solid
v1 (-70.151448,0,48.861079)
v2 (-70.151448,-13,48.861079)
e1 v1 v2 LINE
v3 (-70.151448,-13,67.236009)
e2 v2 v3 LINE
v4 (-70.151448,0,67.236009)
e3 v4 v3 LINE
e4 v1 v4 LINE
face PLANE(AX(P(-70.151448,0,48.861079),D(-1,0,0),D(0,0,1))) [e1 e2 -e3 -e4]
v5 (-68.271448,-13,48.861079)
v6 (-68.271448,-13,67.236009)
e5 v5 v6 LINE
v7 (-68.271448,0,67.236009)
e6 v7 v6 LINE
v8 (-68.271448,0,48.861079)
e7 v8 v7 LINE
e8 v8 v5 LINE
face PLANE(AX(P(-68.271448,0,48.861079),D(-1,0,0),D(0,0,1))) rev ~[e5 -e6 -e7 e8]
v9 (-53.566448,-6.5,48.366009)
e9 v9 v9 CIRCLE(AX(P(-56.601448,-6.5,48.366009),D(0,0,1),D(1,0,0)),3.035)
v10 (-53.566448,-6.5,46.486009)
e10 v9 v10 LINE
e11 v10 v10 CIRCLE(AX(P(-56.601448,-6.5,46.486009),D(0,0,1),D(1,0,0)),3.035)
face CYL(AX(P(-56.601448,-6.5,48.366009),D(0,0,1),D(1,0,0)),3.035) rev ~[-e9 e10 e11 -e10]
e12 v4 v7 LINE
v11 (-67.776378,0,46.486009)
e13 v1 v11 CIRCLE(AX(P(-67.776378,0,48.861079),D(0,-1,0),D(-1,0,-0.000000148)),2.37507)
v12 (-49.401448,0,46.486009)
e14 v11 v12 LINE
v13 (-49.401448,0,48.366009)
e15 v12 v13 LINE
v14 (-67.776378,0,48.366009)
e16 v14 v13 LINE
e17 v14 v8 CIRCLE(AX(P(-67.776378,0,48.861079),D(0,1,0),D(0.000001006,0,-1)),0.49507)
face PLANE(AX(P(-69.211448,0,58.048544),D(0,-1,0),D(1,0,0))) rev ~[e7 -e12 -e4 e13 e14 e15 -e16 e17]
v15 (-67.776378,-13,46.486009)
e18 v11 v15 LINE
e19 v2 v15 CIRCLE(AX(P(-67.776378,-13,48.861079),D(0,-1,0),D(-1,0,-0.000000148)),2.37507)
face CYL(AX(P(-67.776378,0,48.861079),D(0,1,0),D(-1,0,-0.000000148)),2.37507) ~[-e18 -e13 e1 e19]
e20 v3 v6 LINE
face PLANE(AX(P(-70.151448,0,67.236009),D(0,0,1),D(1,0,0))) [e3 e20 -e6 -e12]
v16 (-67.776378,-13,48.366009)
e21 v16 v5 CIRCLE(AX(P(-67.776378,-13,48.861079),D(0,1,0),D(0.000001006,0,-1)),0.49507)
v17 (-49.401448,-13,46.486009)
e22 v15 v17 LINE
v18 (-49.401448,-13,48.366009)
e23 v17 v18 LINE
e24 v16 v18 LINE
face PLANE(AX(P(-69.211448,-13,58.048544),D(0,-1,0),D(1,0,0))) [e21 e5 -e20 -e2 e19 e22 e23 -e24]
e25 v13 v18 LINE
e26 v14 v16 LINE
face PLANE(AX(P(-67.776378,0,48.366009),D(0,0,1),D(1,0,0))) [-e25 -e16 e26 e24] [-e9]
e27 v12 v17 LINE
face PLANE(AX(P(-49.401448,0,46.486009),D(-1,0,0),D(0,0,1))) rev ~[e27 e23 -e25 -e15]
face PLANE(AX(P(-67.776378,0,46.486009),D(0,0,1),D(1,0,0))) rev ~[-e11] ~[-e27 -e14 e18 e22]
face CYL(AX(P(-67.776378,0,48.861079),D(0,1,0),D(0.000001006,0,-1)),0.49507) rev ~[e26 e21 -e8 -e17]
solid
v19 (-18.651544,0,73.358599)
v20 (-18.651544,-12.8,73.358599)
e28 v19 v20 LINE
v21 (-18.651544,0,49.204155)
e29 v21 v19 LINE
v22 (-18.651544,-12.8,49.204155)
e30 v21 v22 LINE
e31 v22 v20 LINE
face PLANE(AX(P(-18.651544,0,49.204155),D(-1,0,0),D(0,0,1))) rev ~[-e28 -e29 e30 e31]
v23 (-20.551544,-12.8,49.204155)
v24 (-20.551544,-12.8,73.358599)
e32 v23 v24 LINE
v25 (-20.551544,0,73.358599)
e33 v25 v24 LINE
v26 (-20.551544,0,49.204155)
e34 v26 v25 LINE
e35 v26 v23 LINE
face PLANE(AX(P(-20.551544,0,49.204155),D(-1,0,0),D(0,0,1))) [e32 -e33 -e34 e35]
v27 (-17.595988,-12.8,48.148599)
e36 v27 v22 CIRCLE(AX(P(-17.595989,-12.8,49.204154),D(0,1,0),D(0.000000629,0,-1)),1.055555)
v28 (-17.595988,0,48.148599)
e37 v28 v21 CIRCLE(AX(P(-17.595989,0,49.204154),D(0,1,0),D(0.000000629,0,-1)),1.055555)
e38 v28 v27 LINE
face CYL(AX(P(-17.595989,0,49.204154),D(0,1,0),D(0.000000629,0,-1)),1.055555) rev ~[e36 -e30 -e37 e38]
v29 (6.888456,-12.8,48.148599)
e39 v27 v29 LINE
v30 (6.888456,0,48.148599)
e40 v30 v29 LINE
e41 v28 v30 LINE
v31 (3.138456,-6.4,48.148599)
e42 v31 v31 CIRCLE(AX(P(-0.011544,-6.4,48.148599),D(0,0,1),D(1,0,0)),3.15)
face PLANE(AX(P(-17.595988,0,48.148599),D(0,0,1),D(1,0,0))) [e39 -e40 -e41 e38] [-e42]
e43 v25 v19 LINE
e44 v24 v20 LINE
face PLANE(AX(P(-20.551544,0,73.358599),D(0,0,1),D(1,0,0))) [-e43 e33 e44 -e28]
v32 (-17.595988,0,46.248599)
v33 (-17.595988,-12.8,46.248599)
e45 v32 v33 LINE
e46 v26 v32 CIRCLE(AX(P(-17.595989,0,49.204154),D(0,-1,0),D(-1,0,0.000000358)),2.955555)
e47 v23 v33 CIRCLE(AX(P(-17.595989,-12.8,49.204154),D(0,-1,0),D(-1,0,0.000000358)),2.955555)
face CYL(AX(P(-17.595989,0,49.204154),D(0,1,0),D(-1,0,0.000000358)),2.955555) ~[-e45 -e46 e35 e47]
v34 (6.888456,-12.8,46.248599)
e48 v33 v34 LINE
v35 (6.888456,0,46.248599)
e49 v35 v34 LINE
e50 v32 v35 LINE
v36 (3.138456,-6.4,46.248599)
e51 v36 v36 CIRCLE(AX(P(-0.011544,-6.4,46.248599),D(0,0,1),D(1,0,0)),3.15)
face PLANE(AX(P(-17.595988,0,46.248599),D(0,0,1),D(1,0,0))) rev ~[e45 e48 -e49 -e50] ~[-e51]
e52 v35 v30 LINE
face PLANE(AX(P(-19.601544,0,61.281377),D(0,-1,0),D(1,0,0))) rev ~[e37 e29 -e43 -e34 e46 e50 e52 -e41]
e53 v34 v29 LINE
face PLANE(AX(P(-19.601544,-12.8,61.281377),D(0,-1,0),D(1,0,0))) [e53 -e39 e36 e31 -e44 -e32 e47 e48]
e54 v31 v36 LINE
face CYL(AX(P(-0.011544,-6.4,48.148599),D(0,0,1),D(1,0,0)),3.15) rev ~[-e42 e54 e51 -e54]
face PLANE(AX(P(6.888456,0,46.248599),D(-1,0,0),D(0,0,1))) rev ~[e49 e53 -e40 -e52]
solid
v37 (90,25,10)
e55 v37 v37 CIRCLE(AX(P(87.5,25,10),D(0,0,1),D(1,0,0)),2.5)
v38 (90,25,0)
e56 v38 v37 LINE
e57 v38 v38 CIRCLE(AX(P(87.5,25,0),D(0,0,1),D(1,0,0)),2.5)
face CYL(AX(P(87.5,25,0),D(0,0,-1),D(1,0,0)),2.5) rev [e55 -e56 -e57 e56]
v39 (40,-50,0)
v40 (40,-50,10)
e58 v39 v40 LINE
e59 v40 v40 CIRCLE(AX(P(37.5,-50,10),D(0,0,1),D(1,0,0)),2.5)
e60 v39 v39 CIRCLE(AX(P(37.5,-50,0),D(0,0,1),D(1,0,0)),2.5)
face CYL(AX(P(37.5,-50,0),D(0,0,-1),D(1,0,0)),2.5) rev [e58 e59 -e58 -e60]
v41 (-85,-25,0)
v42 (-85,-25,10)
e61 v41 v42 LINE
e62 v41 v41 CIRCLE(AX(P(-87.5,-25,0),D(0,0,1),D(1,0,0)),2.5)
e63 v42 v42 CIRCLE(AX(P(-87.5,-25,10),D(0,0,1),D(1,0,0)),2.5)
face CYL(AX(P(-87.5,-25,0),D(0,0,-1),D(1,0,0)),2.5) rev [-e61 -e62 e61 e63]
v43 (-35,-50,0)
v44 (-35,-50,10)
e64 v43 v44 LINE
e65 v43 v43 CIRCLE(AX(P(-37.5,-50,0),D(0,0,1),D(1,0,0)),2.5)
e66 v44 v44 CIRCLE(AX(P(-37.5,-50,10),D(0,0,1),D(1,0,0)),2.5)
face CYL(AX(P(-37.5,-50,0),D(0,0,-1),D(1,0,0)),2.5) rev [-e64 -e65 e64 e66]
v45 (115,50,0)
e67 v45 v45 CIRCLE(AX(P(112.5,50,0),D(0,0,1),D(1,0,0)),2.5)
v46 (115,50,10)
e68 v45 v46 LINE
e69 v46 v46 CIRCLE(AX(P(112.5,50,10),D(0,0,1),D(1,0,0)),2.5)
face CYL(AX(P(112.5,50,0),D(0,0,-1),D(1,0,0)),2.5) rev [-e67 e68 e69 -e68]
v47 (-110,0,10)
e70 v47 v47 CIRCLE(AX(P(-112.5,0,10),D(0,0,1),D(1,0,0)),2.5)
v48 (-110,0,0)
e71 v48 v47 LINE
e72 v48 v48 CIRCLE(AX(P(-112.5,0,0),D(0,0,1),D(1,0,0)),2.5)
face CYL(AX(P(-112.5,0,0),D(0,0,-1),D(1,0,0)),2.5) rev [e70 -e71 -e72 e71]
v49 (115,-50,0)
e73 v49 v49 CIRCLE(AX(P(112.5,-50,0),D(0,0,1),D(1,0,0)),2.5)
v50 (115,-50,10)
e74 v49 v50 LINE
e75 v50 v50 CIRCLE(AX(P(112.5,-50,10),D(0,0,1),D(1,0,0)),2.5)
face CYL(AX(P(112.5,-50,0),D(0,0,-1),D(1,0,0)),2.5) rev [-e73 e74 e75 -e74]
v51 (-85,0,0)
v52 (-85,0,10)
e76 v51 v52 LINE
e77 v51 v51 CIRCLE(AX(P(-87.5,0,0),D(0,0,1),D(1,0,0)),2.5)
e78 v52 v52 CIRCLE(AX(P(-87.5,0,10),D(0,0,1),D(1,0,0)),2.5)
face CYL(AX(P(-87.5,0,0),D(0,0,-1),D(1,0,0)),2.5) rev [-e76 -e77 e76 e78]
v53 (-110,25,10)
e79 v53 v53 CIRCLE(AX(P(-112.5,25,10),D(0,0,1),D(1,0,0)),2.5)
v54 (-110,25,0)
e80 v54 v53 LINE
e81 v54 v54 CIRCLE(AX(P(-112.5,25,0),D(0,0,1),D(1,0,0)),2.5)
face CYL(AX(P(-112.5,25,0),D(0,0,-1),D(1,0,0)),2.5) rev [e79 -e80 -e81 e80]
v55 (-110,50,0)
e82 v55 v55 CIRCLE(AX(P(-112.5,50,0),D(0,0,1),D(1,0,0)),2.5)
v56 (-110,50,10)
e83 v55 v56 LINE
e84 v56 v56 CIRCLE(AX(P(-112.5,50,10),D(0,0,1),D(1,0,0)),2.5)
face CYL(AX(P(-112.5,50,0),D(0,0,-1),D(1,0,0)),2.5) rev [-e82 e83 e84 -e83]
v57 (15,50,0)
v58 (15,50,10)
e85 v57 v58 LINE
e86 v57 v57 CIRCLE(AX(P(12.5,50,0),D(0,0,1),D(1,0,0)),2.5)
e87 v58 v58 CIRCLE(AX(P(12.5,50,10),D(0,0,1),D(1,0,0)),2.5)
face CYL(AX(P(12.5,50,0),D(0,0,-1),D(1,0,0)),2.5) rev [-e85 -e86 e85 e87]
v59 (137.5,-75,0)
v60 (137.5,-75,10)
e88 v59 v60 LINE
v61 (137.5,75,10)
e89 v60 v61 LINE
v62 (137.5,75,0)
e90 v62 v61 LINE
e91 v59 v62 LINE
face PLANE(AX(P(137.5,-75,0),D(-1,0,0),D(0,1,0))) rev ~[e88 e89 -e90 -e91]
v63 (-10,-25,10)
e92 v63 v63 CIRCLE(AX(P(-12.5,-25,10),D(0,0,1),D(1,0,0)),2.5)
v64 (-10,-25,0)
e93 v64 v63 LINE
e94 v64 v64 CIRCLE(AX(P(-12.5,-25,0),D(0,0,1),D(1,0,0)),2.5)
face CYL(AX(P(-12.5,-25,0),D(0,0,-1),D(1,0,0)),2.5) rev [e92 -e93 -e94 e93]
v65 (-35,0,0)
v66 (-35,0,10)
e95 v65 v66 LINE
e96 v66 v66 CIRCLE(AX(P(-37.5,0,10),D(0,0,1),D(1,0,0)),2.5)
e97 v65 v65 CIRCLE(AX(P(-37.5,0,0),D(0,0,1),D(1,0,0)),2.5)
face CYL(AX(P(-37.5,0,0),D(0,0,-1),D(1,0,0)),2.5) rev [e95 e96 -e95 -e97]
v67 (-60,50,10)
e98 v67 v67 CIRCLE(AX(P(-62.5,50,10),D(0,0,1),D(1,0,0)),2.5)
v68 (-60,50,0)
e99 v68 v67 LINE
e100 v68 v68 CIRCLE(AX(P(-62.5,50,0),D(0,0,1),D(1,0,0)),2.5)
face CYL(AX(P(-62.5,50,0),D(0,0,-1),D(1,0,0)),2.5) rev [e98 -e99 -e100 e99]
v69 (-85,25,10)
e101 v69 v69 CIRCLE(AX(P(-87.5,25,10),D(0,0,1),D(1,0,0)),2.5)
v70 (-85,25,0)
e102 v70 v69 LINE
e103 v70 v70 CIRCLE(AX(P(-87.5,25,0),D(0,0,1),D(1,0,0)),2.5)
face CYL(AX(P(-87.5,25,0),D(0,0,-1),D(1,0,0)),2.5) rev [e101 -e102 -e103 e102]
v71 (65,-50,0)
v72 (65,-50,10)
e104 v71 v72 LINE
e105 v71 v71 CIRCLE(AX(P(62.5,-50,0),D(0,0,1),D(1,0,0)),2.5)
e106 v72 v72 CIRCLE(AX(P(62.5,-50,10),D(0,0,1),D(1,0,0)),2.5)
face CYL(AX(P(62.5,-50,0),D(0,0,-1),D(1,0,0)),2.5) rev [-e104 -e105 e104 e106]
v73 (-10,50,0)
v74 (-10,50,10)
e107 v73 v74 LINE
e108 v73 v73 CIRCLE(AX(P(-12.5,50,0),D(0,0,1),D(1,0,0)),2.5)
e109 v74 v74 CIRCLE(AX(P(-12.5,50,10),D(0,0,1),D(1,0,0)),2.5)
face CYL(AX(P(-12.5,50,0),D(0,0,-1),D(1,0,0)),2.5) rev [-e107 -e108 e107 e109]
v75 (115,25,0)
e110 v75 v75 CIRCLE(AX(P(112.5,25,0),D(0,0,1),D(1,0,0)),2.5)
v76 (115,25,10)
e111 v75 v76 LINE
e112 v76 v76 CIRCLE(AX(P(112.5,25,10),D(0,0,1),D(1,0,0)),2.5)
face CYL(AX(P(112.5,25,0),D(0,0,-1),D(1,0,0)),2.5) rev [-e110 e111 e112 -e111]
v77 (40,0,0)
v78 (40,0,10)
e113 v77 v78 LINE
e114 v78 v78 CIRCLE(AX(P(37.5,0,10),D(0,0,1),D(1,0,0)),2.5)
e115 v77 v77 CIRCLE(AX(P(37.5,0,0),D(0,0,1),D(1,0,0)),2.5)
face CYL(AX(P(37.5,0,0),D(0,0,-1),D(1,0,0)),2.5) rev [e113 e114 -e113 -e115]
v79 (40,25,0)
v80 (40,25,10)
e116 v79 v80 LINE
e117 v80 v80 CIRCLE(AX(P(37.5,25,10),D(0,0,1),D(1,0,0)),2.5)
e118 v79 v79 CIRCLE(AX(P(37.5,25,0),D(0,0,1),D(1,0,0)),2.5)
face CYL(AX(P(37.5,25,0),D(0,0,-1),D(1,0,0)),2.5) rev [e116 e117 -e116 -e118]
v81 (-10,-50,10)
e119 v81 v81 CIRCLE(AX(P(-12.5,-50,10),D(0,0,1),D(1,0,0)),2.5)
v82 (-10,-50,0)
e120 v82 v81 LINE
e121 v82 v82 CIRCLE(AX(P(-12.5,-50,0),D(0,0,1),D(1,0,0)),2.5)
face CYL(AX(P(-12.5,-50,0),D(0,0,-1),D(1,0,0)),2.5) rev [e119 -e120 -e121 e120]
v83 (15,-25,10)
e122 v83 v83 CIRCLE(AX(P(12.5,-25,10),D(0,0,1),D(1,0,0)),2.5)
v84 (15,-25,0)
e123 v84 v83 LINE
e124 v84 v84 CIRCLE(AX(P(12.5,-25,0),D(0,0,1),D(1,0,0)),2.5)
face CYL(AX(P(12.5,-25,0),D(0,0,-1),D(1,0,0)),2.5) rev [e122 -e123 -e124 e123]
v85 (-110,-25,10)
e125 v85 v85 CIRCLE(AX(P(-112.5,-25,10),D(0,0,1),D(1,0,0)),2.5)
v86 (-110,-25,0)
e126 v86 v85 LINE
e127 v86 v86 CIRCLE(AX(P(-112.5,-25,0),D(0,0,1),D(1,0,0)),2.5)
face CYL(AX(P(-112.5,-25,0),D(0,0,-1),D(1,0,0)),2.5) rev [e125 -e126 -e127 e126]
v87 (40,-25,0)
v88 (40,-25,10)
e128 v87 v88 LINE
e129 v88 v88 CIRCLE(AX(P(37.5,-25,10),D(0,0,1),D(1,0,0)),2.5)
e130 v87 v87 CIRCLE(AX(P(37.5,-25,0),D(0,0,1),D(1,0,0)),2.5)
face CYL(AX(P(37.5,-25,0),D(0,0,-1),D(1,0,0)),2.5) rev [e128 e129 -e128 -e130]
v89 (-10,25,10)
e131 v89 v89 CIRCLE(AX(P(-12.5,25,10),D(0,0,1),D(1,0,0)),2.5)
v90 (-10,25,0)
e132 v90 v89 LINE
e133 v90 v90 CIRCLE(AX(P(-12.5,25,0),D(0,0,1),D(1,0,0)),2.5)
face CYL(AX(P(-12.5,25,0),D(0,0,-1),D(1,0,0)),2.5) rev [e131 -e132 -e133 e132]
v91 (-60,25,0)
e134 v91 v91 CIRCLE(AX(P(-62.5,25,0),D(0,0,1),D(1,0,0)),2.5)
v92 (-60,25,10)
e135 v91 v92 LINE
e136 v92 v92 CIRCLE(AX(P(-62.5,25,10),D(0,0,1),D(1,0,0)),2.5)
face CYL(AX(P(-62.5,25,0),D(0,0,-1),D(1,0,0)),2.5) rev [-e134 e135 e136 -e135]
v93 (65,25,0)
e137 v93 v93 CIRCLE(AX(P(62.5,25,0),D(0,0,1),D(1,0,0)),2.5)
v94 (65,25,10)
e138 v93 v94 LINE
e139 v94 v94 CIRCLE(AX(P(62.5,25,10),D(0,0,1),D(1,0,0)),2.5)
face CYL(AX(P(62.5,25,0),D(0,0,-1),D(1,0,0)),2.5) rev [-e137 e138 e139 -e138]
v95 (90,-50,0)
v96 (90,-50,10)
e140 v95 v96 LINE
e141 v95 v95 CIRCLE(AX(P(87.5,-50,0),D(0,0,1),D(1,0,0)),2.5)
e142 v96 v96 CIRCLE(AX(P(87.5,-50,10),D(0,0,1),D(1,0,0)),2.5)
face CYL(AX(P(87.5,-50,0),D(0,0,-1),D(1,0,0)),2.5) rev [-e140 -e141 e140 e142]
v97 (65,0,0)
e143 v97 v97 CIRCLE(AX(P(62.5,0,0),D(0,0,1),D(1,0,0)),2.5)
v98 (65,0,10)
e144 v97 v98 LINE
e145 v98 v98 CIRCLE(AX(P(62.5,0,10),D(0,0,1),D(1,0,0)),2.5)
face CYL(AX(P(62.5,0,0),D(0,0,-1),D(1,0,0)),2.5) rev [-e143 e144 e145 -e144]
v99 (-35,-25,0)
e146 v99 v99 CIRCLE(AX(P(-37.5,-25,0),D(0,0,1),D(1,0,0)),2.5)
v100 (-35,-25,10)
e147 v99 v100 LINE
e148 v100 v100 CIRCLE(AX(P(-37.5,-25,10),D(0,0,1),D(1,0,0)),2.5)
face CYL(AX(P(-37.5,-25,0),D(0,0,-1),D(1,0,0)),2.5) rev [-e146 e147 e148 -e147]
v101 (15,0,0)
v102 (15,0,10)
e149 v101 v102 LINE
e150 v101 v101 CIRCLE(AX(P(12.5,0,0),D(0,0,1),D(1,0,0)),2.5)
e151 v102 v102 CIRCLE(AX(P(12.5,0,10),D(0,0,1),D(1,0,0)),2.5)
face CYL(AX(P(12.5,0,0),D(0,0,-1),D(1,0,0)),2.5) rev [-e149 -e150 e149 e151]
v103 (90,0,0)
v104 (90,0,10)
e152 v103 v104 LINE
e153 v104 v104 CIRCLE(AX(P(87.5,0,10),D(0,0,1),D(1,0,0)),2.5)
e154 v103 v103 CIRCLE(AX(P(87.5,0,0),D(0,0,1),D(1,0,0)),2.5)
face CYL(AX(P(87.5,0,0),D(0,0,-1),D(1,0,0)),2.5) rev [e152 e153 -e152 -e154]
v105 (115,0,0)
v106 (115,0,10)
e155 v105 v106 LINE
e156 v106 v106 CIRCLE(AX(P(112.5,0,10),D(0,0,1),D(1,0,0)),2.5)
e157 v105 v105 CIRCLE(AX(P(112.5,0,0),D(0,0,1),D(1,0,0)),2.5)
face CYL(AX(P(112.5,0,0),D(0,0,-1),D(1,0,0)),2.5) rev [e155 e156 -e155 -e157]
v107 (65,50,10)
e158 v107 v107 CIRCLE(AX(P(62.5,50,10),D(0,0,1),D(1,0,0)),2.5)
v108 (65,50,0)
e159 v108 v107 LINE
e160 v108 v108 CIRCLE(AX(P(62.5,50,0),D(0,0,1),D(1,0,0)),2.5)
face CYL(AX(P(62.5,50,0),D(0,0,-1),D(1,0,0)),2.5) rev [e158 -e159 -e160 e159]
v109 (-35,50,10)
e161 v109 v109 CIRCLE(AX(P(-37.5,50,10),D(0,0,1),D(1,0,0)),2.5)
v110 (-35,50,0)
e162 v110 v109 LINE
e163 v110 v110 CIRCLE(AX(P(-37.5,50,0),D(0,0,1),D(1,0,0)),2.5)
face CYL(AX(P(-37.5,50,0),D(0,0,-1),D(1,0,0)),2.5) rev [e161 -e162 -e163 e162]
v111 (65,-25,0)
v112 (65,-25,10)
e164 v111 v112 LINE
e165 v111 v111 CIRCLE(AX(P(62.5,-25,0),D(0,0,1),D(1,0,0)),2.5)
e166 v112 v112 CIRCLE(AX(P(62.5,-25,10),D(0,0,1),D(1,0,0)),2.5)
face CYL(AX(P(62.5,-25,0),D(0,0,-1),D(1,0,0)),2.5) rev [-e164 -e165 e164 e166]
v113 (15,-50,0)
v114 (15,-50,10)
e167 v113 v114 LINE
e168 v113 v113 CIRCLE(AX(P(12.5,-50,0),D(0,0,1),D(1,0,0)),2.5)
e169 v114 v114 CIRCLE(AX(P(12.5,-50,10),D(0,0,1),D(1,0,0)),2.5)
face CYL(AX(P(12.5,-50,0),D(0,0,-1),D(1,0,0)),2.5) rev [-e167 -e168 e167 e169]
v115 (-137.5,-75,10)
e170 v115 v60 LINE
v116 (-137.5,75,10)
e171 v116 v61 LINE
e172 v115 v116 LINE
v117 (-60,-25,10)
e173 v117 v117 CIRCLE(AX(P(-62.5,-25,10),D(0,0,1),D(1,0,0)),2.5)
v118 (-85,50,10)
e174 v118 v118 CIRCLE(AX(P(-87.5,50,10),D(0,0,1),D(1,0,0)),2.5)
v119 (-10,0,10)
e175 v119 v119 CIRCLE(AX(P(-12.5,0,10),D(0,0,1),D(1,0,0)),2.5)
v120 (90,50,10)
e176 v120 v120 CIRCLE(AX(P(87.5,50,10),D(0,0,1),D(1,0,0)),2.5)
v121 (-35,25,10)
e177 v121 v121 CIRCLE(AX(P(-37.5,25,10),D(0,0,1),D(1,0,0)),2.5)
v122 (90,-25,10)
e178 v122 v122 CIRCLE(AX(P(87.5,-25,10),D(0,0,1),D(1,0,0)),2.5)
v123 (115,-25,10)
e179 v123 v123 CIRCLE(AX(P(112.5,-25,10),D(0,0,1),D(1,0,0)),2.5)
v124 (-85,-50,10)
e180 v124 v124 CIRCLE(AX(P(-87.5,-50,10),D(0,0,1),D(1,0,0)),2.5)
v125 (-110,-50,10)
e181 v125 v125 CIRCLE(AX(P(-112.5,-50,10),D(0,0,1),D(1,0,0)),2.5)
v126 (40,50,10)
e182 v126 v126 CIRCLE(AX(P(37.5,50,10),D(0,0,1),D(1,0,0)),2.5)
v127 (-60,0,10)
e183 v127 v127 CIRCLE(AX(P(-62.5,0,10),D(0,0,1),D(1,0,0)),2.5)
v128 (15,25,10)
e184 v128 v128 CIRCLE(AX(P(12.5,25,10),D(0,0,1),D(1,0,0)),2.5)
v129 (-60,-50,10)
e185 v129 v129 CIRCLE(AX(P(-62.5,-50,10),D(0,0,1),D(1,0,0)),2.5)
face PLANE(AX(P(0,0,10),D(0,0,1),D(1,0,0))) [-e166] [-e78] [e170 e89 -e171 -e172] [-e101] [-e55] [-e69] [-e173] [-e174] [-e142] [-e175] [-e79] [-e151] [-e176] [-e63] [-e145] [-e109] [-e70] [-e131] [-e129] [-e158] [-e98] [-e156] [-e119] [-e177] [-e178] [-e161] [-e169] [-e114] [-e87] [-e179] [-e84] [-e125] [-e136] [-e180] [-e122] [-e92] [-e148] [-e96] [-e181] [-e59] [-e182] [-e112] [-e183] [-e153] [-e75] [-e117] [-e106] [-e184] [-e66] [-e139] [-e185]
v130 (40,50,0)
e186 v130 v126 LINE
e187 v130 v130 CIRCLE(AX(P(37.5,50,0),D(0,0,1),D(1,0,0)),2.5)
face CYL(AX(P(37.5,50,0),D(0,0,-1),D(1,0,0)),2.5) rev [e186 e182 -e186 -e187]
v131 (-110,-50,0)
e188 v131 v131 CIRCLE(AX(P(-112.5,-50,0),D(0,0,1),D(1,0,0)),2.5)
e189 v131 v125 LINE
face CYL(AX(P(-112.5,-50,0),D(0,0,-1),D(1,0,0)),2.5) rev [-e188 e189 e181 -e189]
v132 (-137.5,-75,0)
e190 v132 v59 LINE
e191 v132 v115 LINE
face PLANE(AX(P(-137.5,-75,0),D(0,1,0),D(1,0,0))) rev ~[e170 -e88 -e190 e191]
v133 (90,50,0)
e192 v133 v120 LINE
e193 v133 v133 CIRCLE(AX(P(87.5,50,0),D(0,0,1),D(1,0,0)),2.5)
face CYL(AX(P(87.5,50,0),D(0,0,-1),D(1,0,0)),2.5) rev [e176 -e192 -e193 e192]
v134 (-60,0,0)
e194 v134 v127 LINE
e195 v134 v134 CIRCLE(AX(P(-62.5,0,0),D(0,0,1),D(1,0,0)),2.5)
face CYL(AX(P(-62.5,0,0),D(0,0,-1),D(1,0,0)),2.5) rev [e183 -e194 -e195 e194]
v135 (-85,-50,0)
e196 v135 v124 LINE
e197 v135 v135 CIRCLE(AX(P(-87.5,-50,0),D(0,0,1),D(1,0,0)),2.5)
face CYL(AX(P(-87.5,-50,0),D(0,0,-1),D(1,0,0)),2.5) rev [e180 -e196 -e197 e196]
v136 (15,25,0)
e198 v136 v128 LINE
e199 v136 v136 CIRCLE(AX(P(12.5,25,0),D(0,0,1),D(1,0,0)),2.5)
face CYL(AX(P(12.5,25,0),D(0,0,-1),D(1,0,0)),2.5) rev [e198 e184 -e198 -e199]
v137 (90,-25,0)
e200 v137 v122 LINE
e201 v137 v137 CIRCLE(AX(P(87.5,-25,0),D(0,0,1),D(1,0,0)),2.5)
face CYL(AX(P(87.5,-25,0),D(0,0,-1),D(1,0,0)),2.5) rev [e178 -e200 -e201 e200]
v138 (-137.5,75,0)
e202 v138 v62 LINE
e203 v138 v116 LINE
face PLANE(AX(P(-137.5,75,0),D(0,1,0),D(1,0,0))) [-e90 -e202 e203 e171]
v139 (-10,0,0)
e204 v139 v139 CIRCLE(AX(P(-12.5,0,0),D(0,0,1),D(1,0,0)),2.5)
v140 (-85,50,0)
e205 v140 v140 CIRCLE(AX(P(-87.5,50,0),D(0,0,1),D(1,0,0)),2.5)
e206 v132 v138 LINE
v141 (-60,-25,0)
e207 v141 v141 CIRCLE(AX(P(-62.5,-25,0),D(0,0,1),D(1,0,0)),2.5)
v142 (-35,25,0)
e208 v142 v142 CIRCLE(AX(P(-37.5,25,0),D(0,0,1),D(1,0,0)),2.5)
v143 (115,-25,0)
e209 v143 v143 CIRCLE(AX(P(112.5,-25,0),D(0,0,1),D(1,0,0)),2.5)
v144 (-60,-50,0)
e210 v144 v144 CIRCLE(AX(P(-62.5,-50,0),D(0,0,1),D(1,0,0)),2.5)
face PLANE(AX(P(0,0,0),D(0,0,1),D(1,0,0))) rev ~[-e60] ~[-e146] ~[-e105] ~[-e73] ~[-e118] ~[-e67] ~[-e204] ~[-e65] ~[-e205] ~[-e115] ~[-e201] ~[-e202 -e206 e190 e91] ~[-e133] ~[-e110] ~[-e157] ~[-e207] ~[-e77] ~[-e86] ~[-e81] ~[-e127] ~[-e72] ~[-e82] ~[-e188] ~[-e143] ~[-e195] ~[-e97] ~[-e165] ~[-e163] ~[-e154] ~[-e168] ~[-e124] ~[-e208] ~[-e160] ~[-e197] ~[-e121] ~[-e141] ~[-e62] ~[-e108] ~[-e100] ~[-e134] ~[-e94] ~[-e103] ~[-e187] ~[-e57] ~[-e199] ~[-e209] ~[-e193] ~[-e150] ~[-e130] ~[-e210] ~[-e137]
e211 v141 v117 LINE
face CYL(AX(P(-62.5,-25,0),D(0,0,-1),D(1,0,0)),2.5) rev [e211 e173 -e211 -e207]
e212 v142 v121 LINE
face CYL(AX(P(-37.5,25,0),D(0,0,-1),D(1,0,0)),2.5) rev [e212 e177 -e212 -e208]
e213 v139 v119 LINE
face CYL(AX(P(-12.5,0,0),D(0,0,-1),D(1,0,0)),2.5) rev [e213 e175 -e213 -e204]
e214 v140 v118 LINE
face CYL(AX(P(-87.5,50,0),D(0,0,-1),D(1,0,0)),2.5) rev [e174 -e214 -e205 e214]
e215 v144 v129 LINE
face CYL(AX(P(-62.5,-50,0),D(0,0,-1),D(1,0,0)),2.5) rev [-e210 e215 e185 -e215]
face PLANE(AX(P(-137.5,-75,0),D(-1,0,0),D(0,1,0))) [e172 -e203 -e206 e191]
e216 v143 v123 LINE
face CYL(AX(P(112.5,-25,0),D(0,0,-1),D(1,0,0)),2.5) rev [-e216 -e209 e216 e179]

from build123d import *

# Parameters (mm, degrees)
F0_W     = 275
F0_H     = 150
F0_R     = 2.5
F1_DEPTH = 10
F2_W     = 1.88
F2_H     = 18.37493
F2_W_2   = 18.37493
F2_H_2   = 1.88
F3_DEPTH = 13
F4_W     = 1.9
F4_H     = 24.154444
F4_W_2   = 24.484444
F4_H_2   = 1.9
F5_DEPTH = 12.8
F6_R     = 3.15
F7_DEPTH = 1.9
F8_R     = 3.035
F9_DEPTH = 1.88


with BuildPart() as f1:
    # F0 (on Top) → F1 (new body)
    with BuildSketch(Plane.XY):
        Rectangle(F0_W, F0_H)
        with Locations((-112.5, -50)):
            Circle(F0_R, mode=Mode.SUBTRACT)
        with Locations((-87.5, -50)):
            Circle(F0_R, mode=Mode.SUBTRACT)
        with Locations((-62.5, -50)):
            Circle(F0_R, mode=Mode.SUBTRACT)
        with Locations((-37.5, -50)):
            Circle(F0_R, mode=Mode.SUBTRACT)
        with Locations((-12.5, -50)):
            Circle(F0_R, mode=Mode.SUBTRACT)
        with Locations((-112.5, -25)):
            Circle(F0_R, mode=Mode.SUBTRACT)
        with Locations((-87.5, -25)):
            Circle(F0_R, mode=Mode.SUBTRACT)
        with Locations((-62.5, -25)):
            Circle(F0_R, mode=Mode.SUBTRACT)
        with Locations((-37.5, -25)):
            Circle(F0_R, mode=Mode.SUBTRACT)
        with Locations((-12.5, -25)):
            Circle(F0_R, mode=Mode.SUBTRACT)
        with Locations((12.5, -50)):
            Circle(F0_R, mode=Mode.SUBTRACT)
        with Locations((37.5, -50)):
            Circle(F0_R, mode=Mode.SUBTRACT)
        with Locations((62.5, -50)):
            Circle(F0_R, mode=Mode.SUBTRACT)
        with Locations((87.5, -50)):
            Circle(F0_R, mode=Mode.SUBTRACT)
        with Locations((112.5, -50)):
            Circle(F0_R, mode=Mode.SUBTRACT)
        with Locations((12.5, -25)):
            Circle(F0_R, mode=Mode.SUBTRACT)
        with Locations((37.5, -25)):
            Circle(F0_R, mode=Mode.SUBTRACT)
        with Locations((62.5, -25)):
            Circle(F0_R, mode=Mode.SUBTRACT)
        with Locations((87.5, -25)):
            Circle(F0_R, mode=Mode.SUBTRACT)
        with Locations((112.5, -25)):
            Circle(F0_R, mode=Mode.SUBTRACT)
        with Locations((-112.5, 0)):
            Circle(F0_R, mode=Mode.SUBTRACT)
        with Locations((-87.5, 0)):
            Circle(F0_R, mode=Mode.SUBTRACT)
        with Locations((-112.5, 25)):
            Circle(F0_R, mode=Mode.SUBTRACT)
        with Locations((-87.5, 25)):
            Circle(F0_R, mode=Mode.SUBTRACT)
        with Locations((-62.5, 0)):
            Circle(F0_R, mode=Mode.SUBTRACT)
        with Locations((-37.5, 0)):
            Circle(F0_R, mode=Mode.SUBTRACT)
        with Locations((-12.5, 0)):
            Circle(F0_R, mode=Mode.SUBTRACT)
        with Locations((-62.5, 25)):
            Circle(F0_R, mode=Mode.SUBTRACT)
        with Locations((-37.5, 25)):
            Circle(F0_R, mode=Mode.SUBTRACT)
        with Locations((-12.5, 25)):
            Circle(F0_R, mode=Mode.SUBTRACT)
        with Locations((-112.5, 50)):
            Circle(F0_R, mode=Mode.SUBTRACT)
        with Locations((-87.5, 50)):
            Circle(F0_R, mode=Mode.SUBTRACT)
        with Locations((-62.5, 50)):
            Circle(F0_R, mode=Mode.SUBTRACT)
        with Locations((-37.5, 50)):
            Circle(F0_R, mode=Mode.SUBTRACT)
        with Locations((-12.5, 50)):
            Circle(F0_R, mode=Mode.SUBTRACT)
        with Locations((12.5, 0)):
            Circle(F0_R, mode=Mode.SUBTRACT)
        with Locations((37.5, 0)):
            Circle(F0_R, mode=Mode.SUBTRACT)
        with Locations((62.5, 0)):
            Circle(F0_R, mode=Mode.SUBTRACT)
        with Locations((12.5, 25)):
            Circle(F0_R, mode=Mode.SUBTRACT)
        with Locations((37.5, 25)):
            Circle(F0_R, mode=Mode.SUBTRACT)
        with Locations((62.5, 25)):
            Circle(F0_R, mode=Mode.SUBTRACT)
        with Locations((87.5, 0)):
            Circle(F0_R, mode=Mode.SUBTRACT)
        with Locations((112.5, 0)):
            Circle(F0_R, mode=Mode.SUBTRACT)
        with Locations((87.5, 25)):
            Circle(F0_R, mode=Mode.SUBTRACT)
        with Locations((112.5, 25)):
            Circle(F0_R, mode=Mode.SUBTRACT)
        with Locations((12.5, 50)):
            Circle(F0_R, mode=Mode.SUBTRACT)
        with Locations((37.5, 50)):
            Circle(F0_R, mode=Mode.SUBTRACT)
        with Locations((62.5, 50)):
            Circle(F0_R, mode=Mode.SUBTRACT)
        with Locations((87.5, 50)):
            Circle(F0_R, mode=Mode.SUBTRACT)
        with Locations((112.5, 50)):
            Circle(F0_R, mode=Mode.SUBTRACT)
    extrude(amount=F1_DEPTH)


with BuildPart() as f3:
    # F2 (on Front) → F3 (new body)
    with BuildSketch(Plane.XZ):
        with Locations((-69.211448, 58.048544)):
            Rectangle(F2_W, F2_H)
        with BuildLine():
            Line((-68.271448, 48.861079), (-70.151448, 48.861079))
            ThreePointArc((-70.151448, 48.861079), (-69.455806, 47.181651), (-67.776378, 46.486009))
            Line((-67.776378, 46.486009), (-67.776378, 48.366009))
            ThreePointArc((-67.776378, 48.366009), (-68.126446, 48.511012), (-68.271448, 48.861079))
        make_face()
        with Locations((-58.588913, 47.426009)):
            Rectangle(F2_W_2, F2_H_2)
    extrude(amount=F3_DEPTH)

    # F8 (on face) → F9 (cut, through all)
    with BuildSketch(Plane.XY.offset(48.366009)):
        with Locations((-56.601448, -6.5)):
            Circle(F8_R)
    extrude(amount=-F9_DEPTH, mode=Mode.SUBTRACT)


with BuildPart() as f5:
    # F4 (on Front) → F5 (new body)
    with BuildSketch(Plane.XZ):
        with Locations((-19.601544, 61.281377)):
            Rectangle(F4_W, F4_H)
        with BuildLine():
            Line((-18.651544, 49.204155), (-20.551544, 49.204155))
            ThreePointArc((-20.551544, 49.204155), (-19.685882, 47.114261), (-17.595988, 46.248599))
            Line((-17.595988, 46.248599), (-17.595988, 48.148599))
            ThreePointArc((-17.595988, 48.148599), (-18.342379, 48.457764), (-18.651544, 49.204155))
        make_face()
        with Locations((-5.353766, 47.198599)):
            Rectangle(F4_W_2, F4_H_2)
    extrude(amount=F5_DEPTH)

    # F6 (on face) → F7 (cut, through all)
    with BuildSketch(Plane.XY.offset(48.148599)):
        with Locations((-0.011544, -6.4)):
            Circle(F6_R)
    extrude(amount=-F7_DEPTH, mode=Mode.SUBTRACT)


solid = Compound([f1.part, f3.part, f5.part])
